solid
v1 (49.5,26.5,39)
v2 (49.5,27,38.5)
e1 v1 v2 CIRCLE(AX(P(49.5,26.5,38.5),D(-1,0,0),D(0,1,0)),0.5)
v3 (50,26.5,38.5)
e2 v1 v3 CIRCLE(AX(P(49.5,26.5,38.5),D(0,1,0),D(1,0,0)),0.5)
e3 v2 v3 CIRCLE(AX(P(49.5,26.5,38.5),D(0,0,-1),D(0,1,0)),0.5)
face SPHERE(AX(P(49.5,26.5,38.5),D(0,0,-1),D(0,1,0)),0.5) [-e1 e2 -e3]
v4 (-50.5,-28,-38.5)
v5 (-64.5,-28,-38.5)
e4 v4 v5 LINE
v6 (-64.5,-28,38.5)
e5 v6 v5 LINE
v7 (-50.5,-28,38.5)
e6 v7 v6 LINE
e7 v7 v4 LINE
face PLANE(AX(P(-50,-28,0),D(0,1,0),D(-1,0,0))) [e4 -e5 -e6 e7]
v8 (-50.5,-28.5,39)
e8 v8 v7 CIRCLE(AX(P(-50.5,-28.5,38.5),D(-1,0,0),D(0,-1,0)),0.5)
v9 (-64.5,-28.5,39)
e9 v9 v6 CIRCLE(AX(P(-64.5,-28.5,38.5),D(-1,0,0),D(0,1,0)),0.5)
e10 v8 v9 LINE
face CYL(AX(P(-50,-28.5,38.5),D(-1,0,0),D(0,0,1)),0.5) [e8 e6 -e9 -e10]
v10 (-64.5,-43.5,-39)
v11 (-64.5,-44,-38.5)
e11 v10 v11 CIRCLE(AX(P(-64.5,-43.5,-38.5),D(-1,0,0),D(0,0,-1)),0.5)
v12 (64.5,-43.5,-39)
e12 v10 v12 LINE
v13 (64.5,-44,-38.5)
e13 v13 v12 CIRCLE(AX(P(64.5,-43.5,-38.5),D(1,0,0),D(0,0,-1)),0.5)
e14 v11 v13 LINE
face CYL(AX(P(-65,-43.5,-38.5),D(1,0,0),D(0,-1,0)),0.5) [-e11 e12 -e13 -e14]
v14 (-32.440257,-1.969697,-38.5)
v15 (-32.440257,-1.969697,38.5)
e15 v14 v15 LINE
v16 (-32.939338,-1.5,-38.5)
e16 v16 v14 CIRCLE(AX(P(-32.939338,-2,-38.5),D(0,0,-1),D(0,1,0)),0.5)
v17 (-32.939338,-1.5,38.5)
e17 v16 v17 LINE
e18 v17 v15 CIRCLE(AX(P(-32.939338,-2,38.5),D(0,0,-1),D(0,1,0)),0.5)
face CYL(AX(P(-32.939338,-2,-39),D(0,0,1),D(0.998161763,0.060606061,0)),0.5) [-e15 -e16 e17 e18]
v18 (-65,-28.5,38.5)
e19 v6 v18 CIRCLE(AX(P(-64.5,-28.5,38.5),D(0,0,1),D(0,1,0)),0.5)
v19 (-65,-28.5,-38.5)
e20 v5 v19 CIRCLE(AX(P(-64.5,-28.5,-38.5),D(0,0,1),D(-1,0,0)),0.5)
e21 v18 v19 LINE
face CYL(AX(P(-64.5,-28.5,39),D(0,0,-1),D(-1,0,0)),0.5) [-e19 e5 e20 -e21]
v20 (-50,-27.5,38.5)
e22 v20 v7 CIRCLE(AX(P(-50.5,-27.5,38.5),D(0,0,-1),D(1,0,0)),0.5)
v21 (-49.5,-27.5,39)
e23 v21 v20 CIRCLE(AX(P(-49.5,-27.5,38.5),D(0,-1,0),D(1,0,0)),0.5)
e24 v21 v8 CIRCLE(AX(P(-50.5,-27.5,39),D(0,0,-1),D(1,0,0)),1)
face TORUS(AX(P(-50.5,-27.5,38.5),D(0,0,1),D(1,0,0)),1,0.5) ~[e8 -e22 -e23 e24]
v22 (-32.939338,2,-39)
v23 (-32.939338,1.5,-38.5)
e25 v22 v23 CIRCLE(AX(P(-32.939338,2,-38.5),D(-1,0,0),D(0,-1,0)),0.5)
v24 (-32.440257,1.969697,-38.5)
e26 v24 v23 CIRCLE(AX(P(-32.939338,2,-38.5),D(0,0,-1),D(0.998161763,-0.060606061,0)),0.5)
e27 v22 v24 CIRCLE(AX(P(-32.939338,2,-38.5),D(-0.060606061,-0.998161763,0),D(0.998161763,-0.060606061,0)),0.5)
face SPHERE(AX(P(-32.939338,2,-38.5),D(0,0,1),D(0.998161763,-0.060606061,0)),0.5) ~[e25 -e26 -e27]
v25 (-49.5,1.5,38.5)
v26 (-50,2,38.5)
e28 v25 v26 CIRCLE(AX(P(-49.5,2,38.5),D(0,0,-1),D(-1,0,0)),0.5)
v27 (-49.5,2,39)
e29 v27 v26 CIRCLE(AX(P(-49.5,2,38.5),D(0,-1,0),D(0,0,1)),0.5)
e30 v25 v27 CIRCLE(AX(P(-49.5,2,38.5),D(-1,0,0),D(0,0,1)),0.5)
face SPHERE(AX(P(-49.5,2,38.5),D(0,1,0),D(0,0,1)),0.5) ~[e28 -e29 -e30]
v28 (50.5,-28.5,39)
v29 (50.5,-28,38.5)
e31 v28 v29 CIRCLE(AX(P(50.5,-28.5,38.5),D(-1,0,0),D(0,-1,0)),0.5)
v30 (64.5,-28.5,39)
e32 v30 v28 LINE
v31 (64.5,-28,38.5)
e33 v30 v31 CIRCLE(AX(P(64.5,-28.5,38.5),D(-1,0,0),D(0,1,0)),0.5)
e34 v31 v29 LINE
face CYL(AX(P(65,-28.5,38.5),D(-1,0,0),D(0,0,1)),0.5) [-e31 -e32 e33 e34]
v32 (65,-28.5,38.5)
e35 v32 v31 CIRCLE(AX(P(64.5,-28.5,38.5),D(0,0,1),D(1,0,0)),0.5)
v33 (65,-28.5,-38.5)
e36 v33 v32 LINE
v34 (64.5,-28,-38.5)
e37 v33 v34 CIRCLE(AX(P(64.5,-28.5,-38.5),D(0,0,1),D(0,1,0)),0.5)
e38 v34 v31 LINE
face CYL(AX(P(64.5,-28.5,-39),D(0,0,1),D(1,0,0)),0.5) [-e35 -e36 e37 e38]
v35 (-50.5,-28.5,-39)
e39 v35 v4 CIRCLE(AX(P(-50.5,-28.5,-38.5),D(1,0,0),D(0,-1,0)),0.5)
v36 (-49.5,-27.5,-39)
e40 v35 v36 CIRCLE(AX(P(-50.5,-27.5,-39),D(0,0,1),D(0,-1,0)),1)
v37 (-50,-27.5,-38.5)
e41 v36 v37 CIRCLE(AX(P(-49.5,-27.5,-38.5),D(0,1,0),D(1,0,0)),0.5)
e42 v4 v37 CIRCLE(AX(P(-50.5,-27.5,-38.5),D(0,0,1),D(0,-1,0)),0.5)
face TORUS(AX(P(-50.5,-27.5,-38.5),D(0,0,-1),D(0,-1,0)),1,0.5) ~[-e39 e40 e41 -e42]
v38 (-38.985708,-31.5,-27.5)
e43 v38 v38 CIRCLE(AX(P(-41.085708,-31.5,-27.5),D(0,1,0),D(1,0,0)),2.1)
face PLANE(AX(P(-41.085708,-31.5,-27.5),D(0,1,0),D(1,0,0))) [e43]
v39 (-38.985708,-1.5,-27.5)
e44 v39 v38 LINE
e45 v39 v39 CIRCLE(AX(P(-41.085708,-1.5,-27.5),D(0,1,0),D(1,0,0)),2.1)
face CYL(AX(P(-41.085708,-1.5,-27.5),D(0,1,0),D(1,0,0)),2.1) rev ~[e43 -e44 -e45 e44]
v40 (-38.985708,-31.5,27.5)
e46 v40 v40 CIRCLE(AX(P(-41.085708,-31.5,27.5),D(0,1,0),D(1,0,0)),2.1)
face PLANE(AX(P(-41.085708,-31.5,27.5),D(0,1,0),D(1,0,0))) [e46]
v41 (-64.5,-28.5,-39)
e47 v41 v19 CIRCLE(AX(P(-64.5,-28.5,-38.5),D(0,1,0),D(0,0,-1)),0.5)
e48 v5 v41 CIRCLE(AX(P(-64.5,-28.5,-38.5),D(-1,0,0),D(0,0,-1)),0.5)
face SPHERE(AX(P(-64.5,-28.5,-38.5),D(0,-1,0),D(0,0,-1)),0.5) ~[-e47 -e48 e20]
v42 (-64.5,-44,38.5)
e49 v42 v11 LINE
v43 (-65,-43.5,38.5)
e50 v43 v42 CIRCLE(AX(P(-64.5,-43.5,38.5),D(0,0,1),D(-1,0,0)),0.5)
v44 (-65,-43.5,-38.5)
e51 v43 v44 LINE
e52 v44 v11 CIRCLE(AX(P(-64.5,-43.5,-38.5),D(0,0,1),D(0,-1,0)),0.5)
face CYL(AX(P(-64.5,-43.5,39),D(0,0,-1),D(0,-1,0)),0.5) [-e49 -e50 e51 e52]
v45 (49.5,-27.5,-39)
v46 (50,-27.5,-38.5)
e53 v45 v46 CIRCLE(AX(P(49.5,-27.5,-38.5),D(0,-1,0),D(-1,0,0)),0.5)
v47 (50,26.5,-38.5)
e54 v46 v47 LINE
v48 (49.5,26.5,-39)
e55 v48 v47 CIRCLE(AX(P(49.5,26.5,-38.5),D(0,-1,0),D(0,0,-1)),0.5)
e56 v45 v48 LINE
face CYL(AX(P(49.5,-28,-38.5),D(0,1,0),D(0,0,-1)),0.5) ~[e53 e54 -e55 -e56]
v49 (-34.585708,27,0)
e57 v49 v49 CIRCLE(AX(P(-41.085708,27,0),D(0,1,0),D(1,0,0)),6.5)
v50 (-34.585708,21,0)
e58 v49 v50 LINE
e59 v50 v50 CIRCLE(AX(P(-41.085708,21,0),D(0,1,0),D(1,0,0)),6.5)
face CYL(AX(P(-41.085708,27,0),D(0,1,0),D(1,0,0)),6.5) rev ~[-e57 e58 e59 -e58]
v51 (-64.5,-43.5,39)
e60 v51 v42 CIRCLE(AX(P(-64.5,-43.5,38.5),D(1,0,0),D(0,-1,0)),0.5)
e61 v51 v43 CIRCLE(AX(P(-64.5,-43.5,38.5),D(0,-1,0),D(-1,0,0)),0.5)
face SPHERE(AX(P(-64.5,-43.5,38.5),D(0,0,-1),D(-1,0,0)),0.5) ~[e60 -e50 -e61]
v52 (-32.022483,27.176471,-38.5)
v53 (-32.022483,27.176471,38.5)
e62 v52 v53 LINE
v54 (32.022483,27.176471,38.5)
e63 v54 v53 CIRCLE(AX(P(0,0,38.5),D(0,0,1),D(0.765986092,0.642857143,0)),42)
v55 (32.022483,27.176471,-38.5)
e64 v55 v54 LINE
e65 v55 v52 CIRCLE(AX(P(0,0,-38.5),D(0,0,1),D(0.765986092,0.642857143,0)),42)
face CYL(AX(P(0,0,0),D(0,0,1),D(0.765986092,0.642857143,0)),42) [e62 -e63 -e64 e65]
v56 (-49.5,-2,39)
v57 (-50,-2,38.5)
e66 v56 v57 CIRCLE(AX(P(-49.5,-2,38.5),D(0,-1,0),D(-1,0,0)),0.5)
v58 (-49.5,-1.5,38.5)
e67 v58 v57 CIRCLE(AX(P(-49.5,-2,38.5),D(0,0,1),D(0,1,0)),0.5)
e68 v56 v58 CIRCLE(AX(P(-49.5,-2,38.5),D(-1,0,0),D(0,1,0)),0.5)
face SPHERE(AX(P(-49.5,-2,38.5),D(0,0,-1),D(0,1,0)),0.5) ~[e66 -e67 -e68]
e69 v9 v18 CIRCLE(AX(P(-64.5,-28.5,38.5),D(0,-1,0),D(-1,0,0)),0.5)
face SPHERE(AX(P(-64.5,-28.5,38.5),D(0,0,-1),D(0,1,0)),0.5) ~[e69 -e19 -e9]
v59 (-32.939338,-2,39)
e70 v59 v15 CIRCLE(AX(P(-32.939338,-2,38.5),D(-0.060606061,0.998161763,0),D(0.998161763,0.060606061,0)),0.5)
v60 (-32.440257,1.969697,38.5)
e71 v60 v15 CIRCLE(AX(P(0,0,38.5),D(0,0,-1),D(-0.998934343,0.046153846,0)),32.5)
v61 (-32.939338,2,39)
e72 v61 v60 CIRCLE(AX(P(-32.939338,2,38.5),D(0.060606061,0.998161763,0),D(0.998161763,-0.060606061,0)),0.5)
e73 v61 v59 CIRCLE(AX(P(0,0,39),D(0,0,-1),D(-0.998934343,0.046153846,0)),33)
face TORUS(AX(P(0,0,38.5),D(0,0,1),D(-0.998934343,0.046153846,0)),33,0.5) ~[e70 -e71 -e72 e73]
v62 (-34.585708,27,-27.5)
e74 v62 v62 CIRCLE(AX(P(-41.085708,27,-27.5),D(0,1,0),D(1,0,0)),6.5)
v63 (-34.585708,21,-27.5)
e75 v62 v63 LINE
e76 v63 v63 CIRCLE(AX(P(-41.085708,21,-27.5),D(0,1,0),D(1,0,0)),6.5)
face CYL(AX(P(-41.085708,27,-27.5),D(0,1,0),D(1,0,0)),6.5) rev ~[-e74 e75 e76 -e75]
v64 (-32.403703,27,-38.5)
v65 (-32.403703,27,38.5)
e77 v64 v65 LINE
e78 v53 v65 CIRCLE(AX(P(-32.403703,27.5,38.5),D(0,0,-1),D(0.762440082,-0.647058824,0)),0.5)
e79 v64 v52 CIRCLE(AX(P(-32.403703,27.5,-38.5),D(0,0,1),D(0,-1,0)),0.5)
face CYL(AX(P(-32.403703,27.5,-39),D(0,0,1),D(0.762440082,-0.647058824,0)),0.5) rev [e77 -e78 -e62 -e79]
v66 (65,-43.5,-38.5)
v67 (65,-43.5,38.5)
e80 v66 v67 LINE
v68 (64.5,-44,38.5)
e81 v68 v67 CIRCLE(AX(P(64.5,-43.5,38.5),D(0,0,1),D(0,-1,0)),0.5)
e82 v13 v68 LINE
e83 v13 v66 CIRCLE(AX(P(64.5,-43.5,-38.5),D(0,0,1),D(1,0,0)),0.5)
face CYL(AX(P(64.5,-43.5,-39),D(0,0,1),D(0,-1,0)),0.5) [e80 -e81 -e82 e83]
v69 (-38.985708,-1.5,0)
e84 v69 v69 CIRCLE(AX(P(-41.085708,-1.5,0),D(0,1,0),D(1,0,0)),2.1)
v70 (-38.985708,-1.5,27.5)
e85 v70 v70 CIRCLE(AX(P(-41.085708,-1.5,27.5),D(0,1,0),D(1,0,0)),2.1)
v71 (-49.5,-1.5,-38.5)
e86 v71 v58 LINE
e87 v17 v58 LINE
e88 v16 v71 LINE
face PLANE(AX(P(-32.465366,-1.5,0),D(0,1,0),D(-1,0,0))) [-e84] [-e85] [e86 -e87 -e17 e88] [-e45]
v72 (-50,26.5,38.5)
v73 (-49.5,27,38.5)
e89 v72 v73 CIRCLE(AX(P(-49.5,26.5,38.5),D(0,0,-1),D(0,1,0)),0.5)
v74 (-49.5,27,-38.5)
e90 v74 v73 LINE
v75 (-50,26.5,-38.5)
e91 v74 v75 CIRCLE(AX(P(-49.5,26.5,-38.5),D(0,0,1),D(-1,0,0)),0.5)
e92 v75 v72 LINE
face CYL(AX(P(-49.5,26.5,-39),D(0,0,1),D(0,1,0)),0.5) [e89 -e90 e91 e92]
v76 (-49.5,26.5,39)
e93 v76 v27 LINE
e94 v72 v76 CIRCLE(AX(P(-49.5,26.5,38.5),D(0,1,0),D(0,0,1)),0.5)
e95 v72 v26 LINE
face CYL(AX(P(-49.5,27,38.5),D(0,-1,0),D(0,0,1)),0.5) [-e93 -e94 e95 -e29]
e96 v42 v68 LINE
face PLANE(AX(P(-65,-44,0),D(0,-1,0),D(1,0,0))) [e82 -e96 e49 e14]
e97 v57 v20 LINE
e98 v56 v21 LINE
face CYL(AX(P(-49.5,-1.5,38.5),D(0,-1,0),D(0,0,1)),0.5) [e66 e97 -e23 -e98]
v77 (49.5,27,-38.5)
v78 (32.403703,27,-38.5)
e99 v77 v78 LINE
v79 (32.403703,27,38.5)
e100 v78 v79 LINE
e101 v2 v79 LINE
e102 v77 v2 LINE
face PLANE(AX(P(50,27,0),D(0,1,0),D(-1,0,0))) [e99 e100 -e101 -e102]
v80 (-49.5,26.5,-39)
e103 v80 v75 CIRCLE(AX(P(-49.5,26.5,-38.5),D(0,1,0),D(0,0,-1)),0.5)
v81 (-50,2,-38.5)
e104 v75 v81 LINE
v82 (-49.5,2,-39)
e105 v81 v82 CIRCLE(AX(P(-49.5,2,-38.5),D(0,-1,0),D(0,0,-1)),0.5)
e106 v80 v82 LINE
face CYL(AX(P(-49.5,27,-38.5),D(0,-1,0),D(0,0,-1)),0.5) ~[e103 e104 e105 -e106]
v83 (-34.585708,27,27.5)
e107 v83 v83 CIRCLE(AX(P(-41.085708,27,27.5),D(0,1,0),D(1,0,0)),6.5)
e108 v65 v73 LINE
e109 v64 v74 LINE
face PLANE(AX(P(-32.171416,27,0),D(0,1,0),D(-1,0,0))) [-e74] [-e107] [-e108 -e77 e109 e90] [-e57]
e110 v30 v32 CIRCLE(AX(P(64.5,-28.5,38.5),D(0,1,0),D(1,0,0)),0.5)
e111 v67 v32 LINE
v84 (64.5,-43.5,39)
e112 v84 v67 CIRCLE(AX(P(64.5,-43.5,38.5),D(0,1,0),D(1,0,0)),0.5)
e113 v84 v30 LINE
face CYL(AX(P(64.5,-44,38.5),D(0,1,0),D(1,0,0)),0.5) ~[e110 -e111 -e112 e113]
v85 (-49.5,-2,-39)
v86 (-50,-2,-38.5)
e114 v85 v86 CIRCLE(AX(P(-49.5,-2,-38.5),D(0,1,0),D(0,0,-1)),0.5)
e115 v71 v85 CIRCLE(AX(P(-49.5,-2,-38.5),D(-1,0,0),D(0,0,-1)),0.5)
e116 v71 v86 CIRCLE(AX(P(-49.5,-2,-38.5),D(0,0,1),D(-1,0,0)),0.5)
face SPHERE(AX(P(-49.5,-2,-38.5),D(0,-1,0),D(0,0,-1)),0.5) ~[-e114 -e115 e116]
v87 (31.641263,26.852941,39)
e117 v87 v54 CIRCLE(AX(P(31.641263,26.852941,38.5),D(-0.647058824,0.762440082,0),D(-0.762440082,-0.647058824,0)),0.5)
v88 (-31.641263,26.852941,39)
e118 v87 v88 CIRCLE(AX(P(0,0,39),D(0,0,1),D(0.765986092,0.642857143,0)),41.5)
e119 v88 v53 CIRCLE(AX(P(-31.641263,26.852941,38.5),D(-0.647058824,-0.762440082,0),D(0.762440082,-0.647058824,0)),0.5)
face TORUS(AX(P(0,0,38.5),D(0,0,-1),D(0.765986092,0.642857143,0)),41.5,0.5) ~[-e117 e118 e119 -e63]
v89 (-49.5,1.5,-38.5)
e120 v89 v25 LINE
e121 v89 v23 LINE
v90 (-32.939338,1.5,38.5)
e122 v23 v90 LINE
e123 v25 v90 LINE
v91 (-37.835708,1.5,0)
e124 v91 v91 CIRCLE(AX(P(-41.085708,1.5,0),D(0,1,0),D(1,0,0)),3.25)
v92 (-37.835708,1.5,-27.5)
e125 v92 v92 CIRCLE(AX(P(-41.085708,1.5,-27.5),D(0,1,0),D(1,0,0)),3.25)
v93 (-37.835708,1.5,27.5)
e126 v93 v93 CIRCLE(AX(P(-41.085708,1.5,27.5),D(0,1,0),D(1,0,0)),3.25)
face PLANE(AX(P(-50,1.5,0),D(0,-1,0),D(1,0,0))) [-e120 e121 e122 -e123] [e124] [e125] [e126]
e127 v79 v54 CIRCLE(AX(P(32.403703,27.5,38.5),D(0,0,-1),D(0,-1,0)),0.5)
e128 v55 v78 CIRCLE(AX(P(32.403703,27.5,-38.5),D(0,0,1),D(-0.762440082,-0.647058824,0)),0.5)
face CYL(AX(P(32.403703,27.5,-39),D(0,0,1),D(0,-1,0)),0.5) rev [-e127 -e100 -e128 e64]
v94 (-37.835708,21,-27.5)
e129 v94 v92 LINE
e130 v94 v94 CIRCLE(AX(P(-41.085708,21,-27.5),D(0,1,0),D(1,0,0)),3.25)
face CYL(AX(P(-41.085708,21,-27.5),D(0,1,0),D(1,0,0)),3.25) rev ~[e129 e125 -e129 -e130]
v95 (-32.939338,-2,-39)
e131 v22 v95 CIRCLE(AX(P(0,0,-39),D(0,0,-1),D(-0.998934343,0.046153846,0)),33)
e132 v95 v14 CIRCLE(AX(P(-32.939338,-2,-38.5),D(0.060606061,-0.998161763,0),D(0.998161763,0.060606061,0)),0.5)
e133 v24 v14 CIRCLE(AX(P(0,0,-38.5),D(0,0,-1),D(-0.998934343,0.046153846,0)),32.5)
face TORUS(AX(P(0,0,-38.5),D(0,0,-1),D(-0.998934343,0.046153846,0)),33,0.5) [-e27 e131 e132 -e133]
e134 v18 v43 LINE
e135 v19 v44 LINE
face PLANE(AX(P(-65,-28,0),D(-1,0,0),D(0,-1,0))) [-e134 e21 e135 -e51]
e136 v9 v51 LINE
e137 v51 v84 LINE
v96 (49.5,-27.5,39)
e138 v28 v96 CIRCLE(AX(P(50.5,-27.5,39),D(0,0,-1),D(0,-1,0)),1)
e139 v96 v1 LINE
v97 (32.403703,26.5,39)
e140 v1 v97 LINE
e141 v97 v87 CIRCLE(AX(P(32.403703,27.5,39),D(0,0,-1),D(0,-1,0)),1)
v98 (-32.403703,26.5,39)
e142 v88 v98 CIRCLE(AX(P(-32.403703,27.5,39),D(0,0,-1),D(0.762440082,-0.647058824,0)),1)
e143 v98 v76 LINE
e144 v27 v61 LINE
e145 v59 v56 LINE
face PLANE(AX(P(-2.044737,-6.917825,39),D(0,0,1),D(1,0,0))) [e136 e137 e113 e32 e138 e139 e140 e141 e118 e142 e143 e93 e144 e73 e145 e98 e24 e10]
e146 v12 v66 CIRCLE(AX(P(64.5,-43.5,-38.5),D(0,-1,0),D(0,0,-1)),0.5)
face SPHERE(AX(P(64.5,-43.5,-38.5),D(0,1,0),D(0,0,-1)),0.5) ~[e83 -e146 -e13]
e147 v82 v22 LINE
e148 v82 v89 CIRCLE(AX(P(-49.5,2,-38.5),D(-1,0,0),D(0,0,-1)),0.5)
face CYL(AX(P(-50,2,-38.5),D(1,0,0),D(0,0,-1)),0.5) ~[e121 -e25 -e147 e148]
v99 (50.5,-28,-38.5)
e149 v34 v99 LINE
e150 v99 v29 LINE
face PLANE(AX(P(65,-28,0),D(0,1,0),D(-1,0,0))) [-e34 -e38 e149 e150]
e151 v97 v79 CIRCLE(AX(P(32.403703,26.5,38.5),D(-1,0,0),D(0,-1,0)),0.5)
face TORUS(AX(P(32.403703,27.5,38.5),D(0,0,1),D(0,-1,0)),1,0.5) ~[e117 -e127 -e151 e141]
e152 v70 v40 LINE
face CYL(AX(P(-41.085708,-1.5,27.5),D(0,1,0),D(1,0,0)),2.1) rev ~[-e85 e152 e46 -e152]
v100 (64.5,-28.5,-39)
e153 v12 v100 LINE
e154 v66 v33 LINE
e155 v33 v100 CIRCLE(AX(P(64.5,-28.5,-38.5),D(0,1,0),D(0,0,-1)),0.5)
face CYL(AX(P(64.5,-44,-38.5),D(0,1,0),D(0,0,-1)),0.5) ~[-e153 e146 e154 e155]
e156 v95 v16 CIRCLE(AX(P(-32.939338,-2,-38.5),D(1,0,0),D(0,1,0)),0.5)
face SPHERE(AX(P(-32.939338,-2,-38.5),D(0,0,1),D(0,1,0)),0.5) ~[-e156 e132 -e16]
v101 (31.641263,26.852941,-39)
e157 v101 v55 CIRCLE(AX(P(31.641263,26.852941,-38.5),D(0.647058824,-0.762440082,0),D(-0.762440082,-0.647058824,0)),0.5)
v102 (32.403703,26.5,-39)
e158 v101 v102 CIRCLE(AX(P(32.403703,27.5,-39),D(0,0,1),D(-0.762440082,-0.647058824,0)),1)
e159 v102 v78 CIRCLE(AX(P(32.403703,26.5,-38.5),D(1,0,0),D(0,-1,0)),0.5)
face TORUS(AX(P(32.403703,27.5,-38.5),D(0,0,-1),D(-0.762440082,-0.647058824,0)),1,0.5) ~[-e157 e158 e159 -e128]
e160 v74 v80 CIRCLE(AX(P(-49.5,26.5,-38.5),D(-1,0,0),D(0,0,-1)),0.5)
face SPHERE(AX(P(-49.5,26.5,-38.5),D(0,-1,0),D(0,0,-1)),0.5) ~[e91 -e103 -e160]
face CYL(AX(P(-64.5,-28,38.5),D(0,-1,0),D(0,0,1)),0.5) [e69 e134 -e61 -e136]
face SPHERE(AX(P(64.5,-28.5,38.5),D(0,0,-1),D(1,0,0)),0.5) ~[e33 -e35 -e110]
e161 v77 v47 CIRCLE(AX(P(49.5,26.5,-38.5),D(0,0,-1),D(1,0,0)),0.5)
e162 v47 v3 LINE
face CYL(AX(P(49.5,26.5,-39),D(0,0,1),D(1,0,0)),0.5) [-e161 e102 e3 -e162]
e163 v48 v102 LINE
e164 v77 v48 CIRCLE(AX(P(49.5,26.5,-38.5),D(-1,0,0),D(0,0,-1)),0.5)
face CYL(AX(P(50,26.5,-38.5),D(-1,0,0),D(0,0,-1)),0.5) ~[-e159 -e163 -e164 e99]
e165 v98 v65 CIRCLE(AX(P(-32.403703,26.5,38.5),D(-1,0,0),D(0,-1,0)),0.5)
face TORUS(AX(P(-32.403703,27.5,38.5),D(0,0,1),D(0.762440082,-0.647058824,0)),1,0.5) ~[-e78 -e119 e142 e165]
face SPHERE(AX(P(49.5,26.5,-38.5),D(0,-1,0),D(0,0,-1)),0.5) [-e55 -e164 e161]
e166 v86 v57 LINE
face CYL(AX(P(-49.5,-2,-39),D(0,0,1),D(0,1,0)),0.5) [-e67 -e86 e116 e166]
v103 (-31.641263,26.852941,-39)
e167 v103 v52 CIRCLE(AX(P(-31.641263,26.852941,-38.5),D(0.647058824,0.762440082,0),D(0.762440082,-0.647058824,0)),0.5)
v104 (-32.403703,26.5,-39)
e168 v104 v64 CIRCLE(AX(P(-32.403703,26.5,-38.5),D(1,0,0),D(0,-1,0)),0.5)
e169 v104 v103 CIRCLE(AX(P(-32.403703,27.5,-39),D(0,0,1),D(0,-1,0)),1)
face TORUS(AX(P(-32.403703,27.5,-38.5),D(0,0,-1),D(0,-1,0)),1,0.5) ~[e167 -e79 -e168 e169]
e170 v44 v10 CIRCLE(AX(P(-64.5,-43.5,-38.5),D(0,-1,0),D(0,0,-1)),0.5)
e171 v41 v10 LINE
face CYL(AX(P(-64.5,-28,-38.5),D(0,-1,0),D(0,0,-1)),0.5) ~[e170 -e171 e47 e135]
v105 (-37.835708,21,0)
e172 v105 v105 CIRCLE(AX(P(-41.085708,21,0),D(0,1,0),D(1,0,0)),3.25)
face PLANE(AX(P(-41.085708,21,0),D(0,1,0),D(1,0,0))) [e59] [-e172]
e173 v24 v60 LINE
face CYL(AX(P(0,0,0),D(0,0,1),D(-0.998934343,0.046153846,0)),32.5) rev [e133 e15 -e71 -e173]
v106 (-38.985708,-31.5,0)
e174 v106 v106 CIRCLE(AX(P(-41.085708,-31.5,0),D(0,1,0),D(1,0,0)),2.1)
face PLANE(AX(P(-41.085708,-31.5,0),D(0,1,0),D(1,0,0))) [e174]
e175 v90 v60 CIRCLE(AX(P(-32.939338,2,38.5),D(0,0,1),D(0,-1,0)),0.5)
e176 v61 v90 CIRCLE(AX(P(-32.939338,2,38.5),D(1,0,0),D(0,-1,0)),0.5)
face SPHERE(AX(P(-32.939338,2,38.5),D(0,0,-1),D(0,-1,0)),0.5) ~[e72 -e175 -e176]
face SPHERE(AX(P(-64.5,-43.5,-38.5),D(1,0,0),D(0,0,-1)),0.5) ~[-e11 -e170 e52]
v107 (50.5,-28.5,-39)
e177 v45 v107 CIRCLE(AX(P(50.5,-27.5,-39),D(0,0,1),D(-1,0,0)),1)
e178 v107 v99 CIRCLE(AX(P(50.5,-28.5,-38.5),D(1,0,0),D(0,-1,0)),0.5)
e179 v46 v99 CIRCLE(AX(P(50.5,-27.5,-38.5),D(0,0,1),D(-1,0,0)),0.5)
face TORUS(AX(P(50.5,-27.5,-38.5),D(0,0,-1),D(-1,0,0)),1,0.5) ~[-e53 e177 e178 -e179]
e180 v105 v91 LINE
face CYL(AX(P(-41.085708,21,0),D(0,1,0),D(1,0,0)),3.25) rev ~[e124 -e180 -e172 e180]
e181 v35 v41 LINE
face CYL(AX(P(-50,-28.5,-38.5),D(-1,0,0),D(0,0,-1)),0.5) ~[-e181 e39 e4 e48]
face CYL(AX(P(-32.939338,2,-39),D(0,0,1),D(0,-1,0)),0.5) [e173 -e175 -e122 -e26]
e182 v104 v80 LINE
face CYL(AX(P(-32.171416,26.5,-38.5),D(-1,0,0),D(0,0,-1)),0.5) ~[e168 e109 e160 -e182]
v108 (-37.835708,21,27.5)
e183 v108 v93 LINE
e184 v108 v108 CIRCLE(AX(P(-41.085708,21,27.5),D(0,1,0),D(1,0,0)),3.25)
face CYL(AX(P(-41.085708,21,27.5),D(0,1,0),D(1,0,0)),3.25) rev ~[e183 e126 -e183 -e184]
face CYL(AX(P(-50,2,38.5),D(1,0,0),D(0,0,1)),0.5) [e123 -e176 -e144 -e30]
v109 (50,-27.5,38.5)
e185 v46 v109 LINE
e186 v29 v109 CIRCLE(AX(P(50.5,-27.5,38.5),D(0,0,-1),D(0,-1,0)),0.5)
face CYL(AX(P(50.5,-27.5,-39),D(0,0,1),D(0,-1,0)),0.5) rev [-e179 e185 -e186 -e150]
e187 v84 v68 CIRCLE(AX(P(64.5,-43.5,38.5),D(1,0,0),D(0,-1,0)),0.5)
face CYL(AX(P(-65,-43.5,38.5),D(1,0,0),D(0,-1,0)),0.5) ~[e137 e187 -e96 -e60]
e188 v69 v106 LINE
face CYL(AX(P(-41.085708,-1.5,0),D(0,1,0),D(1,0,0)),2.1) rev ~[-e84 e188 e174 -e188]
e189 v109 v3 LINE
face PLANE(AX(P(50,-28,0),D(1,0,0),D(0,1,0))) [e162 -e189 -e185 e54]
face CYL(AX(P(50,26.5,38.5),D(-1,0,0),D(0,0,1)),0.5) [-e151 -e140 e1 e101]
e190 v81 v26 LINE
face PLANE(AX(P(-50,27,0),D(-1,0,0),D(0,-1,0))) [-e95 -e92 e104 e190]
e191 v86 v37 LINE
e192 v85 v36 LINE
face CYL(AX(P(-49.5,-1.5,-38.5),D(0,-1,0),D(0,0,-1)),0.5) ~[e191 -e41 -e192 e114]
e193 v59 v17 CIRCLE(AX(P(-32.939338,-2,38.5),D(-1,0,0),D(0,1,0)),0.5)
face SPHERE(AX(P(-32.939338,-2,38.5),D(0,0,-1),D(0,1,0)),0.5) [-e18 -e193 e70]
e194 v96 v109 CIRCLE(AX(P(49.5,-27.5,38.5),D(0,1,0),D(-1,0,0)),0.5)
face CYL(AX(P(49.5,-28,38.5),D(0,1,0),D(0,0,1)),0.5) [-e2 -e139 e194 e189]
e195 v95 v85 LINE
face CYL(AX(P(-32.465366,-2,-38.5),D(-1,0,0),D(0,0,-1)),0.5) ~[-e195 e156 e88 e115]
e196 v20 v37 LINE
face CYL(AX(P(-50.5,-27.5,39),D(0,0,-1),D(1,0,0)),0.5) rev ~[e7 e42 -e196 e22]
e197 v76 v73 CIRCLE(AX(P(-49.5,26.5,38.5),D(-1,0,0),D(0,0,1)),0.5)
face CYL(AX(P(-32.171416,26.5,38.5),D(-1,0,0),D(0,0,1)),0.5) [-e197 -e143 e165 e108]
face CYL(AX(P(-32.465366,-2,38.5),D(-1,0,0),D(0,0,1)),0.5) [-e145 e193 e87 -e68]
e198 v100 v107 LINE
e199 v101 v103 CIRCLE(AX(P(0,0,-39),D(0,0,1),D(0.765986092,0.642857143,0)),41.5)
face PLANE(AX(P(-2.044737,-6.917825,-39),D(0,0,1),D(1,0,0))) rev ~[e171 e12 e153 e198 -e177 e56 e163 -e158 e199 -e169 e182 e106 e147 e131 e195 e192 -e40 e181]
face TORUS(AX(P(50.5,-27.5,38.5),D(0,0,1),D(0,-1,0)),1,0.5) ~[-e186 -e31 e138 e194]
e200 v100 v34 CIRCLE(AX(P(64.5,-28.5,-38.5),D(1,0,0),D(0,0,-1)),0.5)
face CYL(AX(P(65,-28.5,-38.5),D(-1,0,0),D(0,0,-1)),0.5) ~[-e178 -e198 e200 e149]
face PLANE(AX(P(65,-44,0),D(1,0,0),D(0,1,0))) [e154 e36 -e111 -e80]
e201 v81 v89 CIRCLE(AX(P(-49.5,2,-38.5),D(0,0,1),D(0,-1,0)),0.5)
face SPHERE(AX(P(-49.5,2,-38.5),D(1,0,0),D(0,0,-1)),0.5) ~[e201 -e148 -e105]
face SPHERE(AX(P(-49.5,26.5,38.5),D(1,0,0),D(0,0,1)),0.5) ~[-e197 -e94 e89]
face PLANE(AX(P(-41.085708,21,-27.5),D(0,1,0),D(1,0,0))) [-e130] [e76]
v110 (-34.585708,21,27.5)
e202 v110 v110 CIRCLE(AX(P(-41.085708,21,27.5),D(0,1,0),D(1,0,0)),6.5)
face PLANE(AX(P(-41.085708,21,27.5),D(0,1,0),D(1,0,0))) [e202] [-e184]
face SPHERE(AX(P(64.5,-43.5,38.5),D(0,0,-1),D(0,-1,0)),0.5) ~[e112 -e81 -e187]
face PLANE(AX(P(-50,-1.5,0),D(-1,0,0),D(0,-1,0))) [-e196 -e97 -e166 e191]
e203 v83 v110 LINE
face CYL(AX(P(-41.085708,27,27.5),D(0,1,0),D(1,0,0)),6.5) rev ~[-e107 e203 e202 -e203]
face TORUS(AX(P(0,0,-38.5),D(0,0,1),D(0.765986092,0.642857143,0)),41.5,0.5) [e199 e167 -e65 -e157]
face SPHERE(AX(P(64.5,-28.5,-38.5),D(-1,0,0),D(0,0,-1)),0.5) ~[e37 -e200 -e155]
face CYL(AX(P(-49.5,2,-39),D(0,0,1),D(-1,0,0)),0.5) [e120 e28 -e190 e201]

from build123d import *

# Parameters (mm, degrees)
EXTRUDE_1_DEPTH     = 39
SKETCH_2_R          = 6.5
CUT_EXTRUDE_1_DEPTH = 6
SKETCH_3_R          = 3.25
CUT_EXTRUDE_2_DEPTH = 22.5
SKETCH_4_R          = 2.1
CUT_EXTRUDE_3_DEPTH = 30
FILLET_1_R          = 0.5


with BuildPart() as part:
    # Эскиз1 → Бобышка-Вытянуть1 (new body, symmetric)
    with BuildSketch(Plane.XY):
        with BuildLine():
            Line((-65, -44), (65, -44))
            Line((65, -44), (65, -28))
            Line((65, -28), (50, -28))
            Line((50, -28), (50, 27))
            Line((50, 27), (32.171415884, 27))
            ThreePointArc((32.171415884, 27), (0, 42), (-32.171415884, 27))
            Line((-32.171415884, 27), (-50, 27))
            Line((-50, 27), (-50, 1.5))
            Line((-50, 1.5), (-32.465366161, 1.5))
            ThreePointArc((-32.465366161, 1.5), (32.5, 0), (-32.465366161, -1.5))
            Line((-32.465366161, -1.5), (-50, -1.5))
            Line((-50, -1.5), (-50, -28))
            Line((-50, -28), (-65, -28))
            Line((-65, -28), (-65, -44))
        make_face()
    extrude(amount=EXTRUDE_1_DEPTH, both=True)

    # Эскиз2 → Вырез-Вытянуть1 (cut)
    with BuildSketch(Plane(origin=(0, 27, 0), x_dir=(1, 0, 0), z_dir=(0, 1, 0))):
        with Locations((-41.085707942, 27.5)):
            Circle(SKETCH_2_R)
        with Locations((-41.085707942, 0)):
            Circle(SKETCH_2_R)
        with Locations((-41.085707942, -27.5)):
            Circle(SKETCH_2_R)
    extrude(amount=-CUT_EXTRUDE_1_DEPTH, mode=Mode.SUBTRACT)

    # Эскиз3 → Вырез-Вытянуть2 (cut)
    with BuildSketch(Plane(origin=(0, 21, 0), x_dir=(1, 0, 0), z_dir=(0, 1, 0))):
        with Locations((-41.085707942, 27.5)):
            Circle(SKETCH_3_R)
        with Locations((-41.085707942, 0)):
            Circle(SKETCH_3_R)
        with Locations((-41.085707942, -27.5)):
            Circle(SKETCH_3_R)
    extrude(amount=-CUT_EXTRUDE_2_DEPTH, mode=Mode.SUBTRACT)

    # Эскиз4 → Вырез-Вытянуть3 (cut)
    with BuildSketch(Plane(origin=(0, -1.5, 0), x_dir=(1, 0, 0), z_dir=(0, 1, 0))):
        with Locations((-41.085707942, 27.5)):
            Circle(SKETCH_4_R)
        with Locations((-41.085707942, 0)):
            Circle(SKETCH_4_R)
        with Locations((-41.085707942, -27.5)):
            Circle(SKETCH_4_R)
    extrude(amount=-CUT_EXTRUDE_3_DEPTH, mode=Mode.SUBTRACT)

    # Скругление1
    fillet_1_edges = [part.edges().sort_by_distance(p)[0] for p in [
        (-41.085707942, 27, 39),
        (50, -0.5, -39),
        (57.5, -28, -39),
        (65, -36, -39),
        (-50, 14.25, 39),
        (0, -44, -39),
        (-65, -36, -39),
        (-57.5, -28, -39),
        (-50, -14.75, -39),
        (-41.232683081, -1.5, -39),
        (32.5, 0, -39),
        (-41.232683081, 1.5, -39),
        (-50, 14.25, -39),
        (-41.232683081, 1.5, 39),
        (-41.085707942, 27, -39),
        (0, 42, -39),
        (41.085707942, 27, -39),
        (32.5, 0, 39),
        (50, 27, 0),
        (50, -28, 0),
        (65, -28, 0),
        (65, -44, 0),
        (-65, -44, 0),
        (-65, -28, 0),
        (-50, -28, 0),
        (-50, -1.5, 0),
        (-32.465366161, -1.5, 0),
        (-32.465366161, 1.5, 0),
        (-50, 1.5, 0),
        (-50, 27, 0),
        (-32.171415884, 27, 0),
        (32.171415884, 27, 0),
        (-41.232683081, -1.5, 39),
        (-50, -14.75, 39),
        (-57.5, -28, 39),
        (41.085707942, 27, 39),
        (-65, -36, 39),
        (0, -44, 39),
        (65, -36, 39),
        (57.5, -28, 39),
        (50, -0.5, 39),
        (0, 42, 39),
    ]]
    fillet(fillet_1_edges, radius=FILLET_1_R)


solid = part.part
